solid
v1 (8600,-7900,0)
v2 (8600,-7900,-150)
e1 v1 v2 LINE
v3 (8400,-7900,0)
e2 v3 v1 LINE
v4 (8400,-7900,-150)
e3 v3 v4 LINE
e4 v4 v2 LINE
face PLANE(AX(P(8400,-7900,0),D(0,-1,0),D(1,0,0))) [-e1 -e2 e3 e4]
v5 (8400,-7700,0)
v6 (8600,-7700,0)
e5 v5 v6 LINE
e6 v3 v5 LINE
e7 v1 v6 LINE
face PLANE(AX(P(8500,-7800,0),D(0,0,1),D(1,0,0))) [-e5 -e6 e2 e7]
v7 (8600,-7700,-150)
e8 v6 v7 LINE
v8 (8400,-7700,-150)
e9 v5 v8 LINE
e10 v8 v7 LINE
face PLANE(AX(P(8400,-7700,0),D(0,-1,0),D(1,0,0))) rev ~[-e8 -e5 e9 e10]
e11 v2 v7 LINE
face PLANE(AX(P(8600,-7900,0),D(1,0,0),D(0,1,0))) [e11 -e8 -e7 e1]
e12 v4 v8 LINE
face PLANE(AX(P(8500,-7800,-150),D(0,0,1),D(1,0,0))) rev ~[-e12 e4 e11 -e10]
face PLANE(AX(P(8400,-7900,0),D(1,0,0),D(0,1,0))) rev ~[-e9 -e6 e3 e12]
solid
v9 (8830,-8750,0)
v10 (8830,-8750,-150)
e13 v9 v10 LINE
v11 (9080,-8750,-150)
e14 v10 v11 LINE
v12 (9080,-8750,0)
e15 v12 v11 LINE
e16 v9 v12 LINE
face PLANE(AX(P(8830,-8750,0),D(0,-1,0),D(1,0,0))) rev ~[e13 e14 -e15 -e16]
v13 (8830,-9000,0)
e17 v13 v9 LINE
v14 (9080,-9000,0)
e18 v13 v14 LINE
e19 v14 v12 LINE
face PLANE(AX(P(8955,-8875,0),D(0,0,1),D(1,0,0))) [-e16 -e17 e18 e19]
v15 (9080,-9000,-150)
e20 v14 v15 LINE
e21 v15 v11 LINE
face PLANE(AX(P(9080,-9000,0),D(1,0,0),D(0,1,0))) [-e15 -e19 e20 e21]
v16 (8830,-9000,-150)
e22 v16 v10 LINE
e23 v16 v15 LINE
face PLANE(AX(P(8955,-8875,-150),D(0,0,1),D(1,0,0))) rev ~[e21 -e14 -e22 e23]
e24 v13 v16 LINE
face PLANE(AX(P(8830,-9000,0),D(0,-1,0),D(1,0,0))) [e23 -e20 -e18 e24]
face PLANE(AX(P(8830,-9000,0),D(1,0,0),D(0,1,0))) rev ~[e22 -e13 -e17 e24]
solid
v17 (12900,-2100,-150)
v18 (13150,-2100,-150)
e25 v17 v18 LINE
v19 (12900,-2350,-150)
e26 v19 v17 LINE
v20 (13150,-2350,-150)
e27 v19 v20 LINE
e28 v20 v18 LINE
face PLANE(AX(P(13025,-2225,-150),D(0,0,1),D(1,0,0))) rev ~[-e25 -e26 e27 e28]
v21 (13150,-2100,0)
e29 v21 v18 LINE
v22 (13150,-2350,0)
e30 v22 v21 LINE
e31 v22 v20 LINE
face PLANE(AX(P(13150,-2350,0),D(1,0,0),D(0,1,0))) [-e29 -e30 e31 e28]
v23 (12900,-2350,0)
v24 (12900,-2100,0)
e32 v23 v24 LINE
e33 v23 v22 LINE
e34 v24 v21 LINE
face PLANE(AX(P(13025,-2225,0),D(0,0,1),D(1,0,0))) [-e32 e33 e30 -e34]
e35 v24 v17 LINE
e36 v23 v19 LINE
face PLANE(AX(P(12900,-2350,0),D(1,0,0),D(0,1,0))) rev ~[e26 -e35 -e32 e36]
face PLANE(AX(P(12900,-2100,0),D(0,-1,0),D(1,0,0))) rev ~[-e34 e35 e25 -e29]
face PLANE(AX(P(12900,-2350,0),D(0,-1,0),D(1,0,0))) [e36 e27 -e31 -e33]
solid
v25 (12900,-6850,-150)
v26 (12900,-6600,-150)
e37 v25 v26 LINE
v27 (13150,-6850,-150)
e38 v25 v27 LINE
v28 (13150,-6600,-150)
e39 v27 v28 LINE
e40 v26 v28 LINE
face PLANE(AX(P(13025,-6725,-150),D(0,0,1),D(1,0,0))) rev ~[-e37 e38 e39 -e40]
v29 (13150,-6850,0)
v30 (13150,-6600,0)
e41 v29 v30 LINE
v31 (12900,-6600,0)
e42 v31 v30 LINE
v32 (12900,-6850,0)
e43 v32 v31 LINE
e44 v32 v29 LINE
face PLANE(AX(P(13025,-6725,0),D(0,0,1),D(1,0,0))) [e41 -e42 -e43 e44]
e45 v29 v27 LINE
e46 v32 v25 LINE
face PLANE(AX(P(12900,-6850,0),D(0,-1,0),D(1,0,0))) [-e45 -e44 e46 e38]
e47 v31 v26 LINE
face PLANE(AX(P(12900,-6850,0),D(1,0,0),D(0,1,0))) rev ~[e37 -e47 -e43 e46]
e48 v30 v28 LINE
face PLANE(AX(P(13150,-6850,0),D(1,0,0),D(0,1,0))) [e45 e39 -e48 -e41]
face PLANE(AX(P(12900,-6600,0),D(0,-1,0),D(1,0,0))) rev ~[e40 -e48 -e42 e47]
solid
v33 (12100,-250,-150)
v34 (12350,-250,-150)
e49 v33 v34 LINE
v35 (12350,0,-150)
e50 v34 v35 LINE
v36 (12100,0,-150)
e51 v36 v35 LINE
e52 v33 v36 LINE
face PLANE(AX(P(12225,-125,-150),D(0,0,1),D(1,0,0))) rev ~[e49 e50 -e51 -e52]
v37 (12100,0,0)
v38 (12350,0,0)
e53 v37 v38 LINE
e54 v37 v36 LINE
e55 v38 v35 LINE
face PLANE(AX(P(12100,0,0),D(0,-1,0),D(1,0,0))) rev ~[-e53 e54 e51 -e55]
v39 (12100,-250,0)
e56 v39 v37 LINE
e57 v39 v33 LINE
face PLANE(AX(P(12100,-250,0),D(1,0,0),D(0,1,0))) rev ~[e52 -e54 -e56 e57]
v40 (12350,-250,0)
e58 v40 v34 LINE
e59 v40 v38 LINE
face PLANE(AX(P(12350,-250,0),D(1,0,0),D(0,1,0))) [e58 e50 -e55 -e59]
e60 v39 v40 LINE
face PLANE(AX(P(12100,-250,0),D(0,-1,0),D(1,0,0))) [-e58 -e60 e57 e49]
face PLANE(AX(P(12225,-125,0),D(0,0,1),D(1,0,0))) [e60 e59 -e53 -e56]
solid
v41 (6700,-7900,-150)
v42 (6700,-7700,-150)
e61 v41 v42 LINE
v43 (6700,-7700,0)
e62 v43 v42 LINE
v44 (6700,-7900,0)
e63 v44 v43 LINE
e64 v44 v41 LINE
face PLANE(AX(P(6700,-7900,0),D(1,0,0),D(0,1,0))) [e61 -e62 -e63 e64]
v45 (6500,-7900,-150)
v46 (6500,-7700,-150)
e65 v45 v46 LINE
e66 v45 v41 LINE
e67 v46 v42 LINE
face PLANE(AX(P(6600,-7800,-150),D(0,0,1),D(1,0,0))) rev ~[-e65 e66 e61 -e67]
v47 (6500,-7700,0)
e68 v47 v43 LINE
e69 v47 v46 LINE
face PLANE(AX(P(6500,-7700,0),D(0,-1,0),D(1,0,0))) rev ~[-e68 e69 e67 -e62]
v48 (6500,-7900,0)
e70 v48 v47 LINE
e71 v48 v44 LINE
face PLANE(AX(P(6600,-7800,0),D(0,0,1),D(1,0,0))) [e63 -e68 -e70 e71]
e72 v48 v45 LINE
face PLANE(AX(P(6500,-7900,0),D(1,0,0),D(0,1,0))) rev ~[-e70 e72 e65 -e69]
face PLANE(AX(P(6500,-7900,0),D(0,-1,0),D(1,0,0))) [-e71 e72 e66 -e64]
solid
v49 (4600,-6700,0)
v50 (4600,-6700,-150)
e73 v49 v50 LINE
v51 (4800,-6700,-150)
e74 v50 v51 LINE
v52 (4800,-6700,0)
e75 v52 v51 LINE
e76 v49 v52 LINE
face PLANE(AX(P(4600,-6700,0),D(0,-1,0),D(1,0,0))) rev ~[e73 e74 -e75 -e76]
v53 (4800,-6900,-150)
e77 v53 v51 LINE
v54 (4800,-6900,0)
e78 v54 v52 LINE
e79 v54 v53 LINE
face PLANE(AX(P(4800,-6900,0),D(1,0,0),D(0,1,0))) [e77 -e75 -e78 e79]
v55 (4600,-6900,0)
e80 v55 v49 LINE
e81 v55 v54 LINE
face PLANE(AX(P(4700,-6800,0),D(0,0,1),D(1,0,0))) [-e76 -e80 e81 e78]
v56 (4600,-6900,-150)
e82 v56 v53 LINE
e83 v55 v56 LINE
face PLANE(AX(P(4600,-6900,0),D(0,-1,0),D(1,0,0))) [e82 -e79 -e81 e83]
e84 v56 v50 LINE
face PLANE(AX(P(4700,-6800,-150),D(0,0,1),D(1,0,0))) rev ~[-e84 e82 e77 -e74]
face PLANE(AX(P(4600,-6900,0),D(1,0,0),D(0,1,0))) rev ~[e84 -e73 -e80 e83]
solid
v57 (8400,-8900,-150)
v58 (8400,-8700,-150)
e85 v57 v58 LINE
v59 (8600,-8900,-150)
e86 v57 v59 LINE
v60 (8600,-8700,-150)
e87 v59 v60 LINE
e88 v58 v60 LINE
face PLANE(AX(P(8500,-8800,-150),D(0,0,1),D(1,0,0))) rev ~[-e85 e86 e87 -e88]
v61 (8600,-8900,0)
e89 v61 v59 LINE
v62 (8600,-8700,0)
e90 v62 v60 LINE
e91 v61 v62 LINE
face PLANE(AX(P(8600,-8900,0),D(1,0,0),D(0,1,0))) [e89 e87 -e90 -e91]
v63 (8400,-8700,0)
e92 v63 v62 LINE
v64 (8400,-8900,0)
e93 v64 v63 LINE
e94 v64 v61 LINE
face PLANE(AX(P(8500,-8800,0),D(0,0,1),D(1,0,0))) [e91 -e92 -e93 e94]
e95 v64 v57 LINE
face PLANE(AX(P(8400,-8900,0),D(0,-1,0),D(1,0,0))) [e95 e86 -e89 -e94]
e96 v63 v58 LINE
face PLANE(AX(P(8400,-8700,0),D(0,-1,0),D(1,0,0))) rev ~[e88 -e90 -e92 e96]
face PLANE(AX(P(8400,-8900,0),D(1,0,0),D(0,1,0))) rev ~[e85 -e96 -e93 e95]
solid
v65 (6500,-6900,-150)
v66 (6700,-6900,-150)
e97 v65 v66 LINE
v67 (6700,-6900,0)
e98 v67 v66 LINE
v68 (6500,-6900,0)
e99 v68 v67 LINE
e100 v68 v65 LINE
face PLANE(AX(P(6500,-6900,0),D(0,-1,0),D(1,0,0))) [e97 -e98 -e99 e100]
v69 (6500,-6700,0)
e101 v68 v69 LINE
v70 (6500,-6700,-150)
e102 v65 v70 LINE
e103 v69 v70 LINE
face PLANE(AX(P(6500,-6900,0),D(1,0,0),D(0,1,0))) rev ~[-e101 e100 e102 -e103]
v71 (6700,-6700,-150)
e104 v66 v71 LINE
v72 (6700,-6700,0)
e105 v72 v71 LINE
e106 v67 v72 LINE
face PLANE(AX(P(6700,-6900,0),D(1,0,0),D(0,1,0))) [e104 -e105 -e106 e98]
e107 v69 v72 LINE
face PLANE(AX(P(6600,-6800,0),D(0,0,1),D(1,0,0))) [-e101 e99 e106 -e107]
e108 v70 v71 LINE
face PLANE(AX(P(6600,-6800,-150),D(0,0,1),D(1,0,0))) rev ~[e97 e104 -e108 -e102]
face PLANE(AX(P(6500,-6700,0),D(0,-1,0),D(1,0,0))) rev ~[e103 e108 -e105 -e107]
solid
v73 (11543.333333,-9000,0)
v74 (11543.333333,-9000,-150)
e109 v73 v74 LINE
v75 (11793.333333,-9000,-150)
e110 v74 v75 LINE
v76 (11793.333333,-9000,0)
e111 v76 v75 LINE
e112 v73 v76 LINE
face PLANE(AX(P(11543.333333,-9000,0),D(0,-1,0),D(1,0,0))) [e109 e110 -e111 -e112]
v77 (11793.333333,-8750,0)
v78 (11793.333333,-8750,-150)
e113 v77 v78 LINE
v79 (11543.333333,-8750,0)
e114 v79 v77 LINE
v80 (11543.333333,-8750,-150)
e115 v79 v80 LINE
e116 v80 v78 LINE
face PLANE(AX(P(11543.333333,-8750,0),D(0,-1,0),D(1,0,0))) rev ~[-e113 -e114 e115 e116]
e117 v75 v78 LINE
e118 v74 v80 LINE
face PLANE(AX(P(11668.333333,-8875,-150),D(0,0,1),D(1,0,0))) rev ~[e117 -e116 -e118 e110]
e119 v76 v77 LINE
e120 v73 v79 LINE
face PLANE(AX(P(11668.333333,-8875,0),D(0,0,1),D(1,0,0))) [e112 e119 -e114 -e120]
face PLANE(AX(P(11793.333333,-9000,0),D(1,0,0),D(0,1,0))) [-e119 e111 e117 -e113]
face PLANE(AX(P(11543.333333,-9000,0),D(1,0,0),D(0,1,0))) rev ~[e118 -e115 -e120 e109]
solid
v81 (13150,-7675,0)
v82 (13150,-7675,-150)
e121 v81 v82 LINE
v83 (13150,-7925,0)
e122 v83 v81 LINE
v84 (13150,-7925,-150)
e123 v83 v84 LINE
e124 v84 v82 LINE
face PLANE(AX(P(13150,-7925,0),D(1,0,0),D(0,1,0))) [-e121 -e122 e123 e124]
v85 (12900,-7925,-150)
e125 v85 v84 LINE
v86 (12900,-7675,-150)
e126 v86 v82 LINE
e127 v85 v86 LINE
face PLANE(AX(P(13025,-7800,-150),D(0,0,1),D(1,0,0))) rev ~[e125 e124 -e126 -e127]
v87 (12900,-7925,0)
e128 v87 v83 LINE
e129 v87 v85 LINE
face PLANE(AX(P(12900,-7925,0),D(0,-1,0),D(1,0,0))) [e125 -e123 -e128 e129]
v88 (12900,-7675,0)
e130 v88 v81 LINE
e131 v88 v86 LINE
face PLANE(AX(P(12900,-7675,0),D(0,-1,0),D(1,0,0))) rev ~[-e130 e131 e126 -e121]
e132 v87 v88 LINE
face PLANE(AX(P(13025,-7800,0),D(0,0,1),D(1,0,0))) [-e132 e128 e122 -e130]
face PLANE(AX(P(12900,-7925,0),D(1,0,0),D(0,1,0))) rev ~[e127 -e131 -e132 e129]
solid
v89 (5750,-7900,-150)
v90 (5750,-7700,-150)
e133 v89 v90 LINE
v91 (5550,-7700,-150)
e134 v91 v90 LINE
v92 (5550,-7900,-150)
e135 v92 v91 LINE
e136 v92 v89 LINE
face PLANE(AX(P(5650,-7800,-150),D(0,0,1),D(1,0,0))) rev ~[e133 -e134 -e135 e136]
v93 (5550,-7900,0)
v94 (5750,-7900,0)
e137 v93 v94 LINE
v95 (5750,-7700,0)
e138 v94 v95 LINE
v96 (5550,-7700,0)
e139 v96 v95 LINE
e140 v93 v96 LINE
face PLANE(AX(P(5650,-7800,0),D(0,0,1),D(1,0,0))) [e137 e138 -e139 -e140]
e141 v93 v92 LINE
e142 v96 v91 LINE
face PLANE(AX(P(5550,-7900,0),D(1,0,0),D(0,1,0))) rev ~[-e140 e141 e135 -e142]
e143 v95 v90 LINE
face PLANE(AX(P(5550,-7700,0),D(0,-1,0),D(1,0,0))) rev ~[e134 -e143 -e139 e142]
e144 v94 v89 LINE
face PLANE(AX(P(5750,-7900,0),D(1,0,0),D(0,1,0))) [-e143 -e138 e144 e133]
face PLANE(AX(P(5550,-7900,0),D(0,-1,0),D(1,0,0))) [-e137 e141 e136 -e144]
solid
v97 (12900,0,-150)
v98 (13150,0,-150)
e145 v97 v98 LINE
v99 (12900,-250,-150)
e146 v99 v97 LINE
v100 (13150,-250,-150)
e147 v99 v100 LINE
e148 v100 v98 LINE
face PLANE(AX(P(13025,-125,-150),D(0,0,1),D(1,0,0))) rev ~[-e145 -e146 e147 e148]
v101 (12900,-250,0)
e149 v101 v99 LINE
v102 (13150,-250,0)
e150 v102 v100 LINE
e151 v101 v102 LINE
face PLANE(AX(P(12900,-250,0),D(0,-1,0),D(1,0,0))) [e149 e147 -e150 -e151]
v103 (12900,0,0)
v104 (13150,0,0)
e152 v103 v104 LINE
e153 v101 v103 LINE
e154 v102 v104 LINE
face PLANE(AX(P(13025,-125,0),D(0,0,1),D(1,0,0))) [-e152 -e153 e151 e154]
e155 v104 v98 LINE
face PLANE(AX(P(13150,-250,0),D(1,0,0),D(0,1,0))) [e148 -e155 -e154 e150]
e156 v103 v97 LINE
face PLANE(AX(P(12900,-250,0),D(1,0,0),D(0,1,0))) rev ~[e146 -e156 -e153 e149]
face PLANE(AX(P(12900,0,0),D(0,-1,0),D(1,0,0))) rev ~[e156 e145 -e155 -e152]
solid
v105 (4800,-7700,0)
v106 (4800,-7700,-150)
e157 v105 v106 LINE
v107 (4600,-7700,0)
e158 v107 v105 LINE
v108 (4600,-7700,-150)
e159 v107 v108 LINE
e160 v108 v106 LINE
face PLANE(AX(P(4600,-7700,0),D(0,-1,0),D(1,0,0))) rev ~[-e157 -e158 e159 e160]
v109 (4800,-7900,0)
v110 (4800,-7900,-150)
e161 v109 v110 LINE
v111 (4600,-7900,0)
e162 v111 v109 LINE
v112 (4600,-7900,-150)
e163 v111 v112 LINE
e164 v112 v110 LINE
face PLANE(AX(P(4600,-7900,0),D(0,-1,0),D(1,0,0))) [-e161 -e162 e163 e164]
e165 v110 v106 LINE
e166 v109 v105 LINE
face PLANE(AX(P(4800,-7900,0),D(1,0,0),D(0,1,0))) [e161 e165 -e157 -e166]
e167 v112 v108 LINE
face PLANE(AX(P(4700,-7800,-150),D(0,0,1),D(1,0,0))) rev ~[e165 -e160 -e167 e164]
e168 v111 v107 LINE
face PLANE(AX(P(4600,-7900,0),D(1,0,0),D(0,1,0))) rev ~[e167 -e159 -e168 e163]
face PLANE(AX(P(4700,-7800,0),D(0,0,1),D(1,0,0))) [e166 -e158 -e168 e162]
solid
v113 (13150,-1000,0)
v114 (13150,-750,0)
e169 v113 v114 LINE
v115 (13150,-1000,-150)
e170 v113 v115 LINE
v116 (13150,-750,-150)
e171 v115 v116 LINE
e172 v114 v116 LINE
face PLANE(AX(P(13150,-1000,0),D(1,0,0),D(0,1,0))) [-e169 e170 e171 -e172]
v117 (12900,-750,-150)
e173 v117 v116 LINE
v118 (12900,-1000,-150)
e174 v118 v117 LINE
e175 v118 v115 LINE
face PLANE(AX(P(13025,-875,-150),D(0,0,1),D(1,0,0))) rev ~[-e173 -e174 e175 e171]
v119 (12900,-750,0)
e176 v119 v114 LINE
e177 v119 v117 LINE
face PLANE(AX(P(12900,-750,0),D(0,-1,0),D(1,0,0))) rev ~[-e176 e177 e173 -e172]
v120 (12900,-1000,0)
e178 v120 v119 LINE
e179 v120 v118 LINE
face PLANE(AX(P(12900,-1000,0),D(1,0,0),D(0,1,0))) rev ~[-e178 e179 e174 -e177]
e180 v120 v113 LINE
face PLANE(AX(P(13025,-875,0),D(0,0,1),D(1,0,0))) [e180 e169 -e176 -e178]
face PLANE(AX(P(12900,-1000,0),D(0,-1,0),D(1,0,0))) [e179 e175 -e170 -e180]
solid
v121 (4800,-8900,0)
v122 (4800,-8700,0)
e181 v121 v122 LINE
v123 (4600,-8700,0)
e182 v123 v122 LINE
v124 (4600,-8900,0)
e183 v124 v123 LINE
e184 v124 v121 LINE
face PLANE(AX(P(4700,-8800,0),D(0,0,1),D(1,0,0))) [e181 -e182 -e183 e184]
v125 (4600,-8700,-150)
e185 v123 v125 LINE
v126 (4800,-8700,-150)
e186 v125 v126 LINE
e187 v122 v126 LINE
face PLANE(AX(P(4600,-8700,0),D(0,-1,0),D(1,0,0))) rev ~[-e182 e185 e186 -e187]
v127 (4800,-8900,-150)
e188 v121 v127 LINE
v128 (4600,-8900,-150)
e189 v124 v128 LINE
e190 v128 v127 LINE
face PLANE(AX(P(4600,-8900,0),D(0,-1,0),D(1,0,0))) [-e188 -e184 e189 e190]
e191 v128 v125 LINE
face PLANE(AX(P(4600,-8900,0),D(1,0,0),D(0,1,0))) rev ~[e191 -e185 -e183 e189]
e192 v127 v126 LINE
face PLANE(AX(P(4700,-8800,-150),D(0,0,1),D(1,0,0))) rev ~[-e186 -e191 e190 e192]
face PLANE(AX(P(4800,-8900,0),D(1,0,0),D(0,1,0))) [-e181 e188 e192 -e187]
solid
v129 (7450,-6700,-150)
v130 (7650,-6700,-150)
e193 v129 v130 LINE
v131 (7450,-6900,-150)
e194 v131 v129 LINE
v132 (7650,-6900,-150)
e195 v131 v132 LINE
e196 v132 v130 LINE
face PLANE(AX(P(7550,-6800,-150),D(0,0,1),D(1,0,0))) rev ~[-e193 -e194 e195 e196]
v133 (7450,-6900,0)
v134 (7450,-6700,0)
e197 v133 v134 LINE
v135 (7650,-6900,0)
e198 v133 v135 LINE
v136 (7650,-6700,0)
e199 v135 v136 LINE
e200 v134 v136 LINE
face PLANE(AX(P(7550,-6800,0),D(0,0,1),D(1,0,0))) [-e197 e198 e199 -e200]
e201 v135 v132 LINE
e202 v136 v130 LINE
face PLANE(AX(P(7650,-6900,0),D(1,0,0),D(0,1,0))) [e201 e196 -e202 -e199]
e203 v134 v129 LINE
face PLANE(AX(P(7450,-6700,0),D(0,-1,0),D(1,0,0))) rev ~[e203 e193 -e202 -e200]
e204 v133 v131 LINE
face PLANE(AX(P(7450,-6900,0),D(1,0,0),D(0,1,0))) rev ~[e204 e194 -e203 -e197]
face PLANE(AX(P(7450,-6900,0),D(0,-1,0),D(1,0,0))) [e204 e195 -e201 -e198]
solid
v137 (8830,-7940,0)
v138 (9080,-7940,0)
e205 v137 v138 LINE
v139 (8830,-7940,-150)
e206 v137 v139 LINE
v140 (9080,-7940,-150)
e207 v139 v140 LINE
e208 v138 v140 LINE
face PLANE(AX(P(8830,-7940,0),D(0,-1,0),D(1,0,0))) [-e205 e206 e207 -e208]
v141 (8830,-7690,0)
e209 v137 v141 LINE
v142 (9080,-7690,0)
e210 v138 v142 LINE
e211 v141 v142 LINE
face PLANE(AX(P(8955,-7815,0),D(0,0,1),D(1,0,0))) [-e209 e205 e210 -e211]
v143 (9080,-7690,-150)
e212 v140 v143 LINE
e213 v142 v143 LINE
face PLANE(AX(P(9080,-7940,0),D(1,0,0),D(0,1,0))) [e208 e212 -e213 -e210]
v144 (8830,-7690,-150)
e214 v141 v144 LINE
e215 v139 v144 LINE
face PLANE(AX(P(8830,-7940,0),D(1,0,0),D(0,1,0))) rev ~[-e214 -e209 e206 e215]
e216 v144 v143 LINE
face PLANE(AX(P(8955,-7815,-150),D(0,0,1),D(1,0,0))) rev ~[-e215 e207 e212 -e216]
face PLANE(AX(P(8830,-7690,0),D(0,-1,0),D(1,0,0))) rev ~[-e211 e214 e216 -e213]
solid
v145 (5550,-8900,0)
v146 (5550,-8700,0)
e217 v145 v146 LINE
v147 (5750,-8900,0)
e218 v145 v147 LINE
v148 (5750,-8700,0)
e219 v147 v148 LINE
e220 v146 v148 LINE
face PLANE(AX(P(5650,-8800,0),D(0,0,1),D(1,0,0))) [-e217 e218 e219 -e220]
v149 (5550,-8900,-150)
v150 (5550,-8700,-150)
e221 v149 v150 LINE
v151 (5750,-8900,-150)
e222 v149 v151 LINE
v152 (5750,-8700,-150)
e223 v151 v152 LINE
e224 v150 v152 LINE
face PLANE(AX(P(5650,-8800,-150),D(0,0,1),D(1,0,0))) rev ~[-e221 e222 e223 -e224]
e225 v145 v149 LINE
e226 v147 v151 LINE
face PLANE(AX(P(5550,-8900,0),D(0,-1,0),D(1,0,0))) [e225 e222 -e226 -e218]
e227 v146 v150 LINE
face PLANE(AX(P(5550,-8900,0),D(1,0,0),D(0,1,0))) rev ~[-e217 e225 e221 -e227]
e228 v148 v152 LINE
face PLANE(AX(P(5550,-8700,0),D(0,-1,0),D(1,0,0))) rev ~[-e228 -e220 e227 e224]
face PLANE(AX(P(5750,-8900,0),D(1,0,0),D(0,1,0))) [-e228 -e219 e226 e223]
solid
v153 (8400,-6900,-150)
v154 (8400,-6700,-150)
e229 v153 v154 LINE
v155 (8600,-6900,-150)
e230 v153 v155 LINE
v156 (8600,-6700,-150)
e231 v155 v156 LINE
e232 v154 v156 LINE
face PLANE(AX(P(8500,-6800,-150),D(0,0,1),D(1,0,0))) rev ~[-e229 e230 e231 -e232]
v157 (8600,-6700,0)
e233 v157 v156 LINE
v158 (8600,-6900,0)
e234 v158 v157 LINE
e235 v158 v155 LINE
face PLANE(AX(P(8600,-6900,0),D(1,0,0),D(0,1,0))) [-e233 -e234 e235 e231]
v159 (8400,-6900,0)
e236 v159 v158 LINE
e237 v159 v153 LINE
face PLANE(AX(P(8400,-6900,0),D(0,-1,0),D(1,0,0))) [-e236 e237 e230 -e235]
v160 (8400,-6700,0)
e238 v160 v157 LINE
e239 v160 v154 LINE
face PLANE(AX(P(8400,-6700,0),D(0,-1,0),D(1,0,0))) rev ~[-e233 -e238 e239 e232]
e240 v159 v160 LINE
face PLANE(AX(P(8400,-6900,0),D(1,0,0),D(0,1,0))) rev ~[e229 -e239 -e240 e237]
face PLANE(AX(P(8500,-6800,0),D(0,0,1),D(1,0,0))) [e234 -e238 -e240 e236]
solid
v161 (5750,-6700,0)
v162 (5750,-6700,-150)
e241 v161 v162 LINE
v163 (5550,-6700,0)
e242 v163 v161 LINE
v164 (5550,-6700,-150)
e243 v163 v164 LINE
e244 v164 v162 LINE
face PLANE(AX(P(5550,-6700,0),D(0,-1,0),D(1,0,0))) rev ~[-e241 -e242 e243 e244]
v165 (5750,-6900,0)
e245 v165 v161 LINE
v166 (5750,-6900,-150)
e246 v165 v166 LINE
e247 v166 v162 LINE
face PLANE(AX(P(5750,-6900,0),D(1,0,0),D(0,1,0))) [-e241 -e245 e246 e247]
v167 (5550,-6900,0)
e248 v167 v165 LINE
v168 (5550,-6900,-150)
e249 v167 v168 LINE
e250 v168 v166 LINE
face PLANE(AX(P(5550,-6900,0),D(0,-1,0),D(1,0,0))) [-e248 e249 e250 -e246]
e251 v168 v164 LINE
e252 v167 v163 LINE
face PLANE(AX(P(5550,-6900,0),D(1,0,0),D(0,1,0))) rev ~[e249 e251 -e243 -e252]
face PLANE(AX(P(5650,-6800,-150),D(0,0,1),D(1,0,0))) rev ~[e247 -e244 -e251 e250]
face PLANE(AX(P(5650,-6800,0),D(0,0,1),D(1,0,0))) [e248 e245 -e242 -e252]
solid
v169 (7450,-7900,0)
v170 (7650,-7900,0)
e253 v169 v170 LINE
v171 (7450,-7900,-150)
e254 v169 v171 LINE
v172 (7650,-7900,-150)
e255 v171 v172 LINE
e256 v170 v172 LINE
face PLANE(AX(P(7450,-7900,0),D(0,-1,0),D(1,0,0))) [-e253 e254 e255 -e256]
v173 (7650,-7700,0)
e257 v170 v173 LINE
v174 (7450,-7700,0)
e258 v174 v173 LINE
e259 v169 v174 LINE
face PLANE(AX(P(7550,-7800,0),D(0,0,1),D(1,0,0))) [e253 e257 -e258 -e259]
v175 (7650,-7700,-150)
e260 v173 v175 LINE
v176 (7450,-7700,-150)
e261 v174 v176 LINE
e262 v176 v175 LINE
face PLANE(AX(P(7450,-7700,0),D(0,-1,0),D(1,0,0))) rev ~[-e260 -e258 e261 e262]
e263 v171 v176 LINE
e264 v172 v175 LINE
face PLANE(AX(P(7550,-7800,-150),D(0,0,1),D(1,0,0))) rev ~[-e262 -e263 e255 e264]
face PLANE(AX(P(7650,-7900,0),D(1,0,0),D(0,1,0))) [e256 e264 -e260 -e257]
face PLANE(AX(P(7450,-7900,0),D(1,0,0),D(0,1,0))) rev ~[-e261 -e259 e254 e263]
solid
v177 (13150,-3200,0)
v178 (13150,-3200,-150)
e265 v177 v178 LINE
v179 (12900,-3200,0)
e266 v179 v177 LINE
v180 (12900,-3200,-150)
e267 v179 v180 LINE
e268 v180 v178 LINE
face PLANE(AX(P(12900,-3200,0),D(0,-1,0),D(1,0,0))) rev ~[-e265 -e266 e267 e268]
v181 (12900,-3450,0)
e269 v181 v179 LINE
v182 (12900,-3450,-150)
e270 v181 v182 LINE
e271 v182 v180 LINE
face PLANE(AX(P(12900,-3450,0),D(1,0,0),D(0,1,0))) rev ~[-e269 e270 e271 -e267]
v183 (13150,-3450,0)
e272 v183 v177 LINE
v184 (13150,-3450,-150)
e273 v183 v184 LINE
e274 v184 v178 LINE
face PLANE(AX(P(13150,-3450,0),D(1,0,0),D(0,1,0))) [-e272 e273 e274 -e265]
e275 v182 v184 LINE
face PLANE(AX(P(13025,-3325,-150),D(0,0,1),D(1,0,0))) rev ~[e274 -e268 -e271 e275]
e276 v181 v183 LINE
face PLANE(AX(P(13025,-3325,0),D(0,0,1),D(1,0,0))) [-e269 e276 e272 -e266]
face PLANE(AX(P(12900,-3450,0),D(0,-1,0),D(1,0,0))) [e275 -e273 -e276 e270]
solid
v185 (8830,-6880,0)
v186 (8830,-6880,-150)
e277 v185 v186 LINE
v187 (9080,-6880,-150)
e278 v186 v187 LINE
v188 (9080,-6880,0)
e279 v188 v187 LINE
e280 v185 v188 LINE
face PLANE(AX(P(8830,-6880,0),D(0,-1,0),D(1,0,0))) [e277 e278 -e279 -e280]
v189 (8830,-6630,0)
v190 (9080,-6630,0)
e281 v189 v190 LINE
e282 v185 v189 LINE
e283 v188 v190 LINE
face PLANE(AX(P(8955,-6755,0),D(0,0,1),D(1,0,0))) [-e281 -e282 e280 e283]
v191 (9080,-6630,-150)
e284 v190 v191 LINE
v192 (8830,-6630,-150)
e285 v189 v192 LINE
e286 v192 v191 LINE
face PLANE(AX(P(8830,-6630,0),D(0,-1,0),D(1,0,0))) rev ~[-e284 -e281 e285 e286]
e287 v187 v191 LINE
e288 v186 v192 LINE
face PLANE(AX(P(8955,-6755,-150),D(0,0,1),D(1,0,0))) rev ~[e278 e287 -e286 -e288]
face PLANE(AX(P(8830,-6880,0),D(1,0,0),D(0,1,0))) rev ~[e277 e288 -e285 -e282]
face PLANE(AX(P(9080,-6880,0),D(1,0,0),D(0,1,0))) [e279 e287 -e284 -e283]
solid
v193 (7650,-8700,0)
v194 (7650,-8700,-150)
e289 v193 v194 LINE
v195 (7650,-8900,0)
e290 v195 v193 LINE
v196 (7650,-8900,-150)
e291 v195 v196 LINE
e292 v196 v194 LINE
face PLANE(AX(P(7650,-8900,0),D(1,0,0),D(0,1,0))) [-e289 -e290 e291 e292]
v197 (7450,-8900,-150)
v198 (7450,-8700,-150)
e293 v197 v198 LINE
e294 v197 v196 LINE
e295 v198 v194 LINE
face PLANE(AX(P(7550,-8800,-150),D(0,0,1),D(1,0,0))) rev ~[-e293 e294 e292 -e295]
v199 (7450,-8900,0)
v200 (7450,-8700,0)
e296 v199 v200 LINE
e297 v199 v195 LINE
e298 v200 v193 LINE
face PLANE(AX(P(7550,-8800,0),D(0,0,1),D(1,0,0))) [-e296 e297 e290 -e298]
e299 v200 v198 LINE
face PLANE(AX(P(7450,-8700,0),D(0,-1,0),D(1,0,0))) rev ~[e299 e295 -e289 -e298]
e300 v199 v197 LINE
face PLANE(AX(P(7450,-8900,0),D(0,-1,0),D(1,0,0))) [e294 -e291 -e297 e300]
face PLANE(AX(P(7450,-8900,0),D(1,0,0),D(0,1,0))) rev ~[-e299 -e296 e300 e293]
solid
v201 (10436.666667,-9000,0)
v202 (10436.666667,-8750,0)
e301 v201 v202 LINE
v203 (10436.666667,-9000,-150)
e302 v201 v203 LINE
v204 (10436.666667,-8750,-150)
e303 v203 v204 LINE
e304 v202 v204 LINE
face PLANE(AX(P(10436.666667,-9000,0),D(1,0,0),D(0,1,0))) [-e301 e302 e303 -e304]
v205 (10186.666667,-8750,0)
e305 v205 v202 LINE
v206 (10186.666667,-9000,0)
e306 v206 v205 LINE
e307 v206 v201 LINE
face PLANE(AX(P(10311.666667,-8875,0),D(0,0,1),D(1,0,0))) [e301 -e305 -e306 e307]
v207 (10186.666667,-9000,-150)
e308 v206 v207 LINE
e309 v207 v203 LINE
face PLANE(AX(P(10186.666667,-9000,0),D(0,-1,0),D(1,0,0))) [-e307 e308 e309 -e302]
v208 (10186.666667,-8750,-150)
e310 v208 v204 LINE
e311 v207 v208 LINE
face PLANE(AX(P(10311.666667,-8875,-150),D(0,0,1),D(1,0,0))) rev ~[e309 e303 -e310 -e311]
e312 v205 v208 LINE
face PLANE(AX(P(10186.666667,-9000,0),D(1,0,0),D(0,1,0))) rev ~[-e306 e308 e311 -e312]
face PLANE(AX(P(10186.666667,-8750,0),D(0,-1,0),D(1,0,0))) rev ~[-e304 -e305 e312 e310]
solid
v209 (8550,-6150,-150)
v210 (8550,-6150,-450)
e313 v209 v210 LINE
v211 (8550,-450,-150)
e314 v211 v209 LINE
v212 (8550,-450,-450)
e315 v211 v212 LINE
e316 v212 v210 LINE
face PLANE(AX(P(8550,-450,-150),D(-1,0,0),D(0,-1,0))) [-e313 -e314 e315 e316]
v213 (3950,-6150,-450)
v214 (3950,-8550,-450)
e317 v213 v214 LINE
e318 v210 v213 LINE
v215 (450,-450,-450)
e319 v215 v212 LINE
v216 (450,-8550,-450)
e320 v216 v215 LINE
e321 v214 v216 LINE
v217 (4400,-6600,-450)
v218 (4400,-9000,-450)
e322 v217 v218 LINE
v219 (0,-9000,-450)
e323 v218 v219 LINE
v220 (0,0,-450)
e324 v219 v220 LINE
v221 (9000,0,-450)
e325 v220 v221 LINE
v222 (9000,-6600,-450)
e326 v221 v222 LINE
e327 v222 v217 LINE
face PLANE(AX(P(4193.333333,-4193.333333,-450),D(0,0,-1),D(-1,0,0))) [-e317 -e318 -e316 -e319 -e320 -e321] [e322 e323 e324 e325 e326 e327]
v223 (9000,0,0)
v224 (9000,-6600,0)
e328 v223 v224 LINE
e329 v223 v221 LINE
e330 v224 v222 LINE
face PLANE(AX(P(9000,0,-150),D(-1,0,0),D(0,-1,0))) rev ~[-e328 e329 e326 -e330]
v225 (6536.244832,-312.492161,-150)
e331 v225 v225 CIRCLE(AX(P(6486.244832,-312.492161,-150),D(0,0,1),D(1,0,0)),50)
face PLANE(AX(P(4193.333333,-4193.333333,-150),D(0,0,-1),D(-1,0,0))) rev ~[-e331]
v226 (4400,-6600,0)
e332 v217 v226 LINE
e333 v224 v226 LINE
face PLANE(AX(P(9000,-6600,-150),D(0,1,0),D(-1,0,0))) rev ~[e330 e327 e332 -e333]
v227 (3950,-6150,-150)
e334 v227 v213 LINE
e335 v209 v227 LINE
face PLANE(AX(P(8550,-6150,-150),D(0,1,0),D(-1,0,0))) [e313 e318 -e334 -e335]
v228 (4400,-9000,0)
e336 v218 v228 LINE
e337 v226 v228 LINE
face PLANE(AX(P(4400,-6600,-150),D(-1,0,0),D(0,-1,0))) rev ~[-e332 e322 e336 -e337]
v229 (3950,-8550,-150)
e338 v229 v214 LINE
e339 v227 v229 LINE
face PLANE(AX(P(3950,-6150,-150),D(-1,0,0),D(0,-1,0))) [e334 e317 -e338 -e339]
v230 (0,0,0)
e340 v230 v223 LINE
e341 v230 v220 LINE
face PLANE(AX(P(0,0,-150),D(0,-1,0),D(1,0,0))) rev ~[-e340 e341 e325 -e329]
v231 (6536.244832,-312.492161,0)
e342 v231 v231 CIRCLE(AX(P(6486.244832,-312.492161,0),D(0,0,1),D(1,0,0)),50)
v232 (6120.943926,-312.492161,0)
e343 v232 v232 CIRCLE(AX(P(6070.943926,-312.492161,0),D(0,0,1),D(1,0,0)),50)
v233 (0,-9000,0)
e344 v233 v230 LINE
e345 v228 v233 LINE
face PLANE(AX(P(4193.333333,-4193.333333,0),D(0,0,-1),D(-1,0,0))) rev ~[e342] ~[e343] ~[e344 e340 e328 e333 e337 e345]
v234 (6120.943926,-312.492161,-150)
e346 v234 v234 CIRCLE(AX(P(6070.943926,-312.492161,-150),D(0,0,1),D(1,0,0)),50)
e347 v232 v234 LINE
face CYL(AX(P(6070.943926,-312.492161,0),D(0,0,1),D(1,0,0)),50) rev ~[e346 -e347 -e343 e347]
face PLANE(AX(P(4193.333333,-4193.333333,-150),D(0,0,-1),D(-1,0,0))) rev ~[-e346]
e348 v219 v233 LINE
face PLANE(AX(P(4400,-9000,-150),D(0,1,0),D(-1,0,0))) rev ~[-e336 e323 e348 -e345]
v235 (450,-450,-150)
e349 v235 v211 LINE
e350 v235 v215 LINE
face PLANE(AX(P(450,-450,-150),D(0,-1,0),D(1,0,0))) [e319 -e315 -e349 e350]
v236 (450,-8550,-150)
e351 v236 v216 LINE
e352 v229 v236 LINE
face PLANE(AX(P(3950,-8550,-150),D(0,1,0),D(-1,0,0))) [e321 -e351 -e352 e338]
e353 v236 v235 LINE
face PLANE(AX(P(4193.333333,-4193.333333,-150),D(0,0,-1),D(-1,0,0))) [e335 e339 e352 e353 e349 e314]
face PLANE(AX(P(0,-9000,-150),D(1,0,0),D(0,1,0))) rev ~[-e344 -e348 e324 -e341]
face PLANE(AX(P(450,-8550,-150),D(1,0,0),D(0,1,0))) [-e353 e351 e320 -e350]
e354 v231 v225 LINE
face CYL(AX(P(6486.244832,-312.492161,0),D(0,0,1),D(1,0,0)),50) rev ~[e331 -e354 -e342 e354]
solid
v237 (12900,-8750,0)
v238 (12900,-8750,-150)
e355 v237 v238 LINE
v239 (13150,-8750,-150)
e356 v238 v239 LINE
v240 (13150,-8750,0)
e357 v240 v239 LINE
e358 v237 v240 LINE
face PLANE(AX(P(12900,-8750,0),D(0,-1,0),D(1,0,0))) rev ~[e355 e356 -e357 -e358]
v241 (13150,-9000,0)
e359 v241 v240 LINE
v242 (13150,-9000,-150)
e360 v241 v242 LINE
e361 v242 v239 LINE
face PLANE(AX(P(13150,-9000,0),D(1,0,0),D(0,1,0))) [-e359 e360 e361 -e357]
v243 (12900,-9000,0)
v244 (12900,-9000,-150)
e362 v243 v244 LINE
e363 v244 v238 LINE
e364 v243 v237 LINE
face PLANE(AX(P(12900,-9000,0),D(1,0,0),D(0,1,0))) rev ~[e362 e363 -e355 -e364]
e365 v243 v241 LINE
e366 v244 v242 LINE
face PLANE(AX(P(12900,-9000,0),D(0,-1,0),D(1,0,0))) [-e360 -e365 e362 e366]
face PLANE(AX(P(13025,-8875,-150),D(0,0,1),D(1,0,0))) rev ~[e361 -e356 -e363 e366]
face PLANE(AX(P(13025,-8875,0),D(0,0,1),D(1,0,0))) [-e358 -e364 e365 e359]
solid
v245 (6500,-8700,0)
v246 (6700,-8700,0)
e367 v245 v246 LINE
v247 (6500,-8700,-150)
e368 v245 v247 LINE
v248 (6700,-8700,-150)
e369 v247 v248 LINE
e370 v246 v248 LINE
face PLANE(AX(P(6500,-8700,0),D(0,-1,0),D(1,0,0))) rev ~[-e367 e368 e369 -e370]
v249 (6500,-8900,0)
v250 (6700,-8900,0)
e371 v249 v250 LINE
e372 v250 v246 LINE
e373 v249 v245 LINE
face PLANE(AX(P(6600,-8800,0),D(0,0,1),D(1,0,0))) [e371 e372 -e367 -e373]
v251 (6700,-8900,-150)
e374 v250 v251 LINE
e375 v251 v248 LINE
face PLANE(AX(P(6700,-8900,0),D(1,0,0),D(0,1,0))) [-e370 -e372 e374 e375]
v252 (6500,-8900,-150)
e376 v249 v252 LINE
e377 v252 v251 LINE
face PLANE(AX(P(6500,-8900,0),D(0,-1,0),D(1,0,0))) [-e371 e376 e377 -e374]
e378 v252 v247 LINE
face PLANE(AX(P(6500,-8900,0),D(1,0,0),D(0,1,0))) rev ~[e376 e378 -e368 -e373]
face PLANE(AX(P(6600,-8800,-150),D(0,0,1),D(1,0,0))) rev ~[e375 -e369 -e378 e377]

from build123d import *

# Parameters (mm, degrees)
SKETCH_1_R         = 50
EXTRUDE_1_DEPTH    = 150
SKETCH_1_W         = 250
SKETCH_1_H         = 250
EXTRUDE_1_2_DEPTH  = 150
EXTRUDE_1_3_DEPTH  = 150
EXTRUDE_1_4_DEPTH  = 150
EXTRUDE_1_5_DEPTH  = 150
EXTRUDE_1_6_DEPTH  = 150
EXTRUDE_1_7_DEPTH  = 150
EXTRUDE_1_8_DEPTH  = 150
EXTRUDE_1_9_DEPTH  = 150
EXTRUDE_1_10_DEPTH = 150
EXTRUDE_1_11_DEPTH = 150
EXTRUDE_1_12_DEPTH = 150
EXTRUDE_1_13_DEPTH = 150
EXTRUDE_1_14_DEPTH = 150
SKETCH_1_W_2       = 200
SKETCH_1_H_2       = 200
EXTRUDE_1_15_DEPTH = 150
EXTRUDE_1_16_DEPTH = 150
EXTRUDE_1_17_DEPTH = 150
EXTRUDE_1_18_DEPTH = 150
EXTRUDE_1_19_DEPTH = 150
EXTRUDE_1_20_DEPTH = 150
EXTRUDE_1_21_DEPTH = 150
EXTRUDE_1_22_DEPTH = 150
EXTRUDE_1_23_DEPTH = 150
EXTRUDE_1_24_DEPTH = 150
EXTRUDE_1_25_DEPTH = 150
EXTRUDE_1_26_DEPTH = 150
EXTRUDE_1_27_DEPTH = 150
EXTRUDE_1_28_DEPTH = 150
EXTRUDE_1_29_DEPTH = 150
EXTRUDE_2_DEPTH    = 300


with BuildPart() as part:
    # Эскиз1 → Бобышка-Вытянуть1 (new body)
    with BuildSketch(Plane.XY):
        Polygon((0, 0), (9000, 0), (9000, -6600), (4400, -6600), (4400, -9000), (0, -9000), align=None)
        with Locations((6486.244831881, -312.492160742)):
            Circle(SKETCH_1_R, mode=Mode.SUBTRACT)
        with Locations((6070.943926101, -312.492160742)):
            Circle(SKETCH_1_R, mode=Mode.SUBTRACT)
    extrude(amount=-EXTRUDE_1_DEPTH)

    # Эскиз2 → Бобышка-Вытянуть2 (add)
    with BuildSketch(Plane(origin=(0, 0, -150), x_dir=(-1, 0, 0), z_dir=(0, 0, -1))):
        Polygon((0, -9000), (0, 0), (-9000, 0), (-9000, -6600), (-4400, -6600), (-4400, -9000), align=None)
        Polygon((-450, -8550), (-450, -450), (-8550, -450), (-8550, -6150), (-3950, -6150), (-3950, -8550), align=None, mode=Mode.SUBTRACT)
    extrude(amount=EXTRUDE_2_DEPTH)


with BuildPart() as body_2:
    # Эскиз1 → Extrude 1 2 (new body)
    with BuildSketch(Plane.XY):
        with Locations((8955, -8875)):
            Rectangle(SKETCH_1_W, SKETCH_1_H)
    extrude(amount=-EXTRUDE_1_2_DEPTH)


with BuildPart() as body_3:
    # Эскиз1 → Extrude 1 3 (new body)
    with BuildSketch(Plane.XY):
        with Locations((8955, -6755)):
            Rectangle(SKETCH_1_W, SKETCH_1_H)
    extrude(amount=-EXTRUDE_1_3_DEPTH)


with BuildPart() as body_4:
    # Эскиз1 → Extrude 1 4 (new body)
    with BuildSketch(Plane.XY):
        with Locations((8955, -7815)):
            Rectangle(SKETCH_1_W, SKETCH_1_H)
    extrude(amount=-EXTRUDE_1_4_DEPTH)


with BuildPart() as body_5:
    # Эскиз1 → Extrude 1 5 (new body)
    with BuildSketch(Plane.XY):
        with Locations((10311.666666667, -8875)):
            Rectangle(SKETCH_1_W, SKETCH_1_H)
    extrude(amount=-EXTRUDE_1_5_DEPTH)


with BuildPart() as body_6:
    # Эскиз1 → Extrude 1 6 (new body)
    with BuildSketch(Plane.XY):
        with Locations((11668.333333333, -8875)):
            Rectangle(SKETCH_1_W, SKETCH_1_H)
    extrude(amount=-EXTRUDE_1_6_DEPTH)


with BuildPart() as body_7:
    # Эскиз1 → Extrude 1 7 (new body)
    with BuildSketch(Plane.XY):
        with Locations((13025, -8875)):
            Rectangle(SKETCH_1_W, SKETCH_1_H)
    extrude(amount=-EXTRUDE_1_7_DEPTH)


with BuildPart() as body_8:
    # Эскиз1 → Extrude 1 8 (new body)
    with BuildSketch(Plane.XY):
        with Locations((13025, -6725)):
            Rectangle(SKETCH_1_W, SKETCH_1_H)
    extrude(amount=-EXTRUDE_1_8_DEPTH)


with BuildPart() as body_9:
    # Эскиз1 → Extrude 1 9 (new body)
    with BuildSketch(Plane.XY):
        with Locations((13025, -7800)):
            Rectangle(SKETCH_1_W, SKETCH_1_H)
    extrude(amount=-EXTRUDE_1_9_DEPTH)


with BuildPart() as body_10:
    # Эскиз1 → Extrude 1 10 (new body)
    with BuildSketch(Plane.XY):
        with Locations((13025, -3325)):
            Rectangle(SKETCH_1_W, SKETCH_1_H)
    extrude(amount=-EXTRUDE_1_10_DEPTH)


with BuildPart() as body_11:
    # Эскиз1 → Extrude 1 11 (new body)
    with BuildSketch(Plane.XY):
        with Locations((13025, -2225)):
            Rectangle(SKETCH_1_W, SKETCH_1_H)
    extrude(amount=-EXTRUDE_1_11_DEPTH)


with BuildPart() as body_12:
    # Эскиз1 → Extrude 1 12 (new body)
    with BuildSketch(Plane.XY):
        with Locations((13025, -875)):
            Rectangle(SKETCH_1_W, SKETCH_1_H)
    extrude(amount=-EXTRUDE_1_12_DEPTH)


with BuildPart() as body_13:
    # Эскиз1 → Extrude 1 13 (new body)
    with BuildSketch(Plane.XY):
        with Locations((13025, -125)):
            Rectangle(SKETCH_1_W, SKETCH_1_H)
    extrude(amount=-EXTRUDE_1_13_DEPTH)


with BuildPart() as body_14:
    # Эскиз1 → Extrude 1 14 (new body)
    with BuildSketch(Plane.XY):
        with Locations((12225, -125)):
            Rectangle(SKETCH_1_W, SKETCH_1_H)
    extrude(amount=-EXTRUDE_1_14_DEPTH)


with BuildPart() as body_15:
    # Эскиз1 → Extrude 1 15 (new body)
    with BuildSketch(Plane.XY):
        with Locations((4700, -6800)):
            Rectangle(SKETCH_1_W_2, SKETCH_1_H_2)
    extrude(amount=-EXTRUDE_1_15_DEPTH)


with BuildPart() as body_16:
    # Эскиз1 → Extrude 1 16 (new body)
    with BuildSketch(Plane.XY):
        with Locations((4700, -7800)):
            Rectangle(SKETCH_1_W_2, SKETCH_1_H_2)
    extrude(amount=-EXTRUDE_1_16_DEPTH)


with BuildPart() as body_17:
    # Эскиз1 → Extrude 1 17 (new body)
    with BuildSketch(Plane.XY):
        with Locations((4700, -8800)):
            Rectangle(SKETCH_1_W_2, SKETCH_1_H_2)
    extrude(amount=-EXTRUDE_1_17_DEPTH)


with BuildPart() as body_18:
    # Эскиз1 → Extrude 1 18 (new body)
    with BuildSketch(Plane.XY):
        with Locations((5650, -6800)):
            Rectangle(SKETCH_1_W_2, SKETCH_1_H_2)
    extrude(amount=-EXTRUDE_1_18_DEPTH)


with BuildPart() as body_19:
    # Эскиз1 → Extrude 1 19 (new body)
    with BuildSketch(Plane.XY):
        with Locations((5650, -7800)):
            Rectangle(SKETCH_1_W_2, SKETCH_1_H_2)
    extrude(amount=-EXTRUDE_1_19_DEPTH)


with BuildPart() as body_20:
    # Эскиз1 → Extrude 1 20 (new body)
    with BuildSketch(Plane.XY):
        with Locations((5650, -8800)):
            Rectangle(SKETCH_1_W_2, SKETCH_1_H_2)
    extrude(amount=-EXTRUDE_1_20_DEPTH)


with BuildPart() as body_21:
    # Эскиз1 → Extrude 1 21 (new body)
    with BuildSketch(Plane.XY):
        with Locations((6600, -6800)):
            Rectangle(SKETCH_1_W_2, SKETCH_1_H_2)
    extrude(amount=-EXTRUDE_1_21_DEPTH)


with BuildPart() as body_22:
    # Эскиз1 → Extrude 1 22 (new body)
    with BuildSketch(Plane.XY):
        with Locations((6600, -7800)):
            Rectangle(SKETCH_1_W_2, SKETCH_1_H_2)
    extrude(amount=-EXTRUDE_1_22_DEPTH)


with BuildPart() as body_23:
    # Эскиз1 → Extrude 1 23 (new body)
    with BuildSketch(Plane.XY):
        with Locations((6600, -8800)):
            Rectangle(SKETCH_1_W_2, SKETCH_1_H_2)
    extrude(amount=-EXTRUDE_1_23_DEPTH)


with BuildPart() as body_24:
    # Эскиз1 → Extrude 1 24 (new body)
    with BuildSketch(Plane.XY):
        with Locations((7550, -6800)):
            Rectangle(SKETCH_1_W_2, SKETCH_1_H_2)
    extrude(amount=-EXTRUDE_1_24_DEPTH)


with BuildPart() as body_25:
    # Эскиз1 → Extrude 1 25 (new body)
    with BuildSketch(Plane.XY):
        with Locations((7550, -7800)):
            Rectangle(SKETCH_1_W_2, SKETCH_1_H_2)
    extrude(amount=-EXTRUDE_1_25_DEPTH)


with BuildPart() as body_26:
    # Эскиз1 → Extrude 1 26 (new body)
    with BuildSketch(Plane.XY):
        with Locations((7550, -8800)):
            Rectangle(SKETCH_1_W_2, SKETCH_1_H_2)
    extrude(amount=-EXTRUDE_1_26_DEPTH)


with BuildPart() as body_27:
    # Эскиз1 → Extrude 1 27 (new body)
    with BuildSketch(Plane.XY):
        with Locations((8500, -6800)):
            Rectangle(SKETCH_1_W_2, SKETCH_1_H_2)
    extrude(amount=-EXTRUDE_1_27_DEPTH)


with BuildPart() as body_28:
    # Эскиз1 → Extrude 1 28 (new body)
    with BuildSketch(Plane.XY):
        with Locations((8500, -7800)):
            Rectangle(SKETCH_1_W_2, SKETCH_1_H_2)
    extrude(amount=-EXTRUDE_1_28_DEPTH)


with BuildPart() as body_29:
    # Эскиз1 → Extrude 1 29 (new body)
    with BuildSketch(Plane.XY):
        with Locations((8500, -8800)):
            Rectangle(SKETCH_1_W_2, SKETCH_1_H_2)
    extrude(amount=-EXTRUDE_1_29_DEPTH)


solid = Compound([part.part, body_2.part, body_3.part, body_4.part, body_5.part, body_6.part, body_7.part, body_8.part, body_9.part, body_10.part, body_11.part, body_12.part, body_13.part, body_14.part, body_15.part, body_16.part, body_17.part, body_18.part, body_19.part, body_20.part, body_21.part, body_22.part, body_23.part, body_24.part, body_25.part, body_26.part, body_27.part, body_28.part, body_29.part])
